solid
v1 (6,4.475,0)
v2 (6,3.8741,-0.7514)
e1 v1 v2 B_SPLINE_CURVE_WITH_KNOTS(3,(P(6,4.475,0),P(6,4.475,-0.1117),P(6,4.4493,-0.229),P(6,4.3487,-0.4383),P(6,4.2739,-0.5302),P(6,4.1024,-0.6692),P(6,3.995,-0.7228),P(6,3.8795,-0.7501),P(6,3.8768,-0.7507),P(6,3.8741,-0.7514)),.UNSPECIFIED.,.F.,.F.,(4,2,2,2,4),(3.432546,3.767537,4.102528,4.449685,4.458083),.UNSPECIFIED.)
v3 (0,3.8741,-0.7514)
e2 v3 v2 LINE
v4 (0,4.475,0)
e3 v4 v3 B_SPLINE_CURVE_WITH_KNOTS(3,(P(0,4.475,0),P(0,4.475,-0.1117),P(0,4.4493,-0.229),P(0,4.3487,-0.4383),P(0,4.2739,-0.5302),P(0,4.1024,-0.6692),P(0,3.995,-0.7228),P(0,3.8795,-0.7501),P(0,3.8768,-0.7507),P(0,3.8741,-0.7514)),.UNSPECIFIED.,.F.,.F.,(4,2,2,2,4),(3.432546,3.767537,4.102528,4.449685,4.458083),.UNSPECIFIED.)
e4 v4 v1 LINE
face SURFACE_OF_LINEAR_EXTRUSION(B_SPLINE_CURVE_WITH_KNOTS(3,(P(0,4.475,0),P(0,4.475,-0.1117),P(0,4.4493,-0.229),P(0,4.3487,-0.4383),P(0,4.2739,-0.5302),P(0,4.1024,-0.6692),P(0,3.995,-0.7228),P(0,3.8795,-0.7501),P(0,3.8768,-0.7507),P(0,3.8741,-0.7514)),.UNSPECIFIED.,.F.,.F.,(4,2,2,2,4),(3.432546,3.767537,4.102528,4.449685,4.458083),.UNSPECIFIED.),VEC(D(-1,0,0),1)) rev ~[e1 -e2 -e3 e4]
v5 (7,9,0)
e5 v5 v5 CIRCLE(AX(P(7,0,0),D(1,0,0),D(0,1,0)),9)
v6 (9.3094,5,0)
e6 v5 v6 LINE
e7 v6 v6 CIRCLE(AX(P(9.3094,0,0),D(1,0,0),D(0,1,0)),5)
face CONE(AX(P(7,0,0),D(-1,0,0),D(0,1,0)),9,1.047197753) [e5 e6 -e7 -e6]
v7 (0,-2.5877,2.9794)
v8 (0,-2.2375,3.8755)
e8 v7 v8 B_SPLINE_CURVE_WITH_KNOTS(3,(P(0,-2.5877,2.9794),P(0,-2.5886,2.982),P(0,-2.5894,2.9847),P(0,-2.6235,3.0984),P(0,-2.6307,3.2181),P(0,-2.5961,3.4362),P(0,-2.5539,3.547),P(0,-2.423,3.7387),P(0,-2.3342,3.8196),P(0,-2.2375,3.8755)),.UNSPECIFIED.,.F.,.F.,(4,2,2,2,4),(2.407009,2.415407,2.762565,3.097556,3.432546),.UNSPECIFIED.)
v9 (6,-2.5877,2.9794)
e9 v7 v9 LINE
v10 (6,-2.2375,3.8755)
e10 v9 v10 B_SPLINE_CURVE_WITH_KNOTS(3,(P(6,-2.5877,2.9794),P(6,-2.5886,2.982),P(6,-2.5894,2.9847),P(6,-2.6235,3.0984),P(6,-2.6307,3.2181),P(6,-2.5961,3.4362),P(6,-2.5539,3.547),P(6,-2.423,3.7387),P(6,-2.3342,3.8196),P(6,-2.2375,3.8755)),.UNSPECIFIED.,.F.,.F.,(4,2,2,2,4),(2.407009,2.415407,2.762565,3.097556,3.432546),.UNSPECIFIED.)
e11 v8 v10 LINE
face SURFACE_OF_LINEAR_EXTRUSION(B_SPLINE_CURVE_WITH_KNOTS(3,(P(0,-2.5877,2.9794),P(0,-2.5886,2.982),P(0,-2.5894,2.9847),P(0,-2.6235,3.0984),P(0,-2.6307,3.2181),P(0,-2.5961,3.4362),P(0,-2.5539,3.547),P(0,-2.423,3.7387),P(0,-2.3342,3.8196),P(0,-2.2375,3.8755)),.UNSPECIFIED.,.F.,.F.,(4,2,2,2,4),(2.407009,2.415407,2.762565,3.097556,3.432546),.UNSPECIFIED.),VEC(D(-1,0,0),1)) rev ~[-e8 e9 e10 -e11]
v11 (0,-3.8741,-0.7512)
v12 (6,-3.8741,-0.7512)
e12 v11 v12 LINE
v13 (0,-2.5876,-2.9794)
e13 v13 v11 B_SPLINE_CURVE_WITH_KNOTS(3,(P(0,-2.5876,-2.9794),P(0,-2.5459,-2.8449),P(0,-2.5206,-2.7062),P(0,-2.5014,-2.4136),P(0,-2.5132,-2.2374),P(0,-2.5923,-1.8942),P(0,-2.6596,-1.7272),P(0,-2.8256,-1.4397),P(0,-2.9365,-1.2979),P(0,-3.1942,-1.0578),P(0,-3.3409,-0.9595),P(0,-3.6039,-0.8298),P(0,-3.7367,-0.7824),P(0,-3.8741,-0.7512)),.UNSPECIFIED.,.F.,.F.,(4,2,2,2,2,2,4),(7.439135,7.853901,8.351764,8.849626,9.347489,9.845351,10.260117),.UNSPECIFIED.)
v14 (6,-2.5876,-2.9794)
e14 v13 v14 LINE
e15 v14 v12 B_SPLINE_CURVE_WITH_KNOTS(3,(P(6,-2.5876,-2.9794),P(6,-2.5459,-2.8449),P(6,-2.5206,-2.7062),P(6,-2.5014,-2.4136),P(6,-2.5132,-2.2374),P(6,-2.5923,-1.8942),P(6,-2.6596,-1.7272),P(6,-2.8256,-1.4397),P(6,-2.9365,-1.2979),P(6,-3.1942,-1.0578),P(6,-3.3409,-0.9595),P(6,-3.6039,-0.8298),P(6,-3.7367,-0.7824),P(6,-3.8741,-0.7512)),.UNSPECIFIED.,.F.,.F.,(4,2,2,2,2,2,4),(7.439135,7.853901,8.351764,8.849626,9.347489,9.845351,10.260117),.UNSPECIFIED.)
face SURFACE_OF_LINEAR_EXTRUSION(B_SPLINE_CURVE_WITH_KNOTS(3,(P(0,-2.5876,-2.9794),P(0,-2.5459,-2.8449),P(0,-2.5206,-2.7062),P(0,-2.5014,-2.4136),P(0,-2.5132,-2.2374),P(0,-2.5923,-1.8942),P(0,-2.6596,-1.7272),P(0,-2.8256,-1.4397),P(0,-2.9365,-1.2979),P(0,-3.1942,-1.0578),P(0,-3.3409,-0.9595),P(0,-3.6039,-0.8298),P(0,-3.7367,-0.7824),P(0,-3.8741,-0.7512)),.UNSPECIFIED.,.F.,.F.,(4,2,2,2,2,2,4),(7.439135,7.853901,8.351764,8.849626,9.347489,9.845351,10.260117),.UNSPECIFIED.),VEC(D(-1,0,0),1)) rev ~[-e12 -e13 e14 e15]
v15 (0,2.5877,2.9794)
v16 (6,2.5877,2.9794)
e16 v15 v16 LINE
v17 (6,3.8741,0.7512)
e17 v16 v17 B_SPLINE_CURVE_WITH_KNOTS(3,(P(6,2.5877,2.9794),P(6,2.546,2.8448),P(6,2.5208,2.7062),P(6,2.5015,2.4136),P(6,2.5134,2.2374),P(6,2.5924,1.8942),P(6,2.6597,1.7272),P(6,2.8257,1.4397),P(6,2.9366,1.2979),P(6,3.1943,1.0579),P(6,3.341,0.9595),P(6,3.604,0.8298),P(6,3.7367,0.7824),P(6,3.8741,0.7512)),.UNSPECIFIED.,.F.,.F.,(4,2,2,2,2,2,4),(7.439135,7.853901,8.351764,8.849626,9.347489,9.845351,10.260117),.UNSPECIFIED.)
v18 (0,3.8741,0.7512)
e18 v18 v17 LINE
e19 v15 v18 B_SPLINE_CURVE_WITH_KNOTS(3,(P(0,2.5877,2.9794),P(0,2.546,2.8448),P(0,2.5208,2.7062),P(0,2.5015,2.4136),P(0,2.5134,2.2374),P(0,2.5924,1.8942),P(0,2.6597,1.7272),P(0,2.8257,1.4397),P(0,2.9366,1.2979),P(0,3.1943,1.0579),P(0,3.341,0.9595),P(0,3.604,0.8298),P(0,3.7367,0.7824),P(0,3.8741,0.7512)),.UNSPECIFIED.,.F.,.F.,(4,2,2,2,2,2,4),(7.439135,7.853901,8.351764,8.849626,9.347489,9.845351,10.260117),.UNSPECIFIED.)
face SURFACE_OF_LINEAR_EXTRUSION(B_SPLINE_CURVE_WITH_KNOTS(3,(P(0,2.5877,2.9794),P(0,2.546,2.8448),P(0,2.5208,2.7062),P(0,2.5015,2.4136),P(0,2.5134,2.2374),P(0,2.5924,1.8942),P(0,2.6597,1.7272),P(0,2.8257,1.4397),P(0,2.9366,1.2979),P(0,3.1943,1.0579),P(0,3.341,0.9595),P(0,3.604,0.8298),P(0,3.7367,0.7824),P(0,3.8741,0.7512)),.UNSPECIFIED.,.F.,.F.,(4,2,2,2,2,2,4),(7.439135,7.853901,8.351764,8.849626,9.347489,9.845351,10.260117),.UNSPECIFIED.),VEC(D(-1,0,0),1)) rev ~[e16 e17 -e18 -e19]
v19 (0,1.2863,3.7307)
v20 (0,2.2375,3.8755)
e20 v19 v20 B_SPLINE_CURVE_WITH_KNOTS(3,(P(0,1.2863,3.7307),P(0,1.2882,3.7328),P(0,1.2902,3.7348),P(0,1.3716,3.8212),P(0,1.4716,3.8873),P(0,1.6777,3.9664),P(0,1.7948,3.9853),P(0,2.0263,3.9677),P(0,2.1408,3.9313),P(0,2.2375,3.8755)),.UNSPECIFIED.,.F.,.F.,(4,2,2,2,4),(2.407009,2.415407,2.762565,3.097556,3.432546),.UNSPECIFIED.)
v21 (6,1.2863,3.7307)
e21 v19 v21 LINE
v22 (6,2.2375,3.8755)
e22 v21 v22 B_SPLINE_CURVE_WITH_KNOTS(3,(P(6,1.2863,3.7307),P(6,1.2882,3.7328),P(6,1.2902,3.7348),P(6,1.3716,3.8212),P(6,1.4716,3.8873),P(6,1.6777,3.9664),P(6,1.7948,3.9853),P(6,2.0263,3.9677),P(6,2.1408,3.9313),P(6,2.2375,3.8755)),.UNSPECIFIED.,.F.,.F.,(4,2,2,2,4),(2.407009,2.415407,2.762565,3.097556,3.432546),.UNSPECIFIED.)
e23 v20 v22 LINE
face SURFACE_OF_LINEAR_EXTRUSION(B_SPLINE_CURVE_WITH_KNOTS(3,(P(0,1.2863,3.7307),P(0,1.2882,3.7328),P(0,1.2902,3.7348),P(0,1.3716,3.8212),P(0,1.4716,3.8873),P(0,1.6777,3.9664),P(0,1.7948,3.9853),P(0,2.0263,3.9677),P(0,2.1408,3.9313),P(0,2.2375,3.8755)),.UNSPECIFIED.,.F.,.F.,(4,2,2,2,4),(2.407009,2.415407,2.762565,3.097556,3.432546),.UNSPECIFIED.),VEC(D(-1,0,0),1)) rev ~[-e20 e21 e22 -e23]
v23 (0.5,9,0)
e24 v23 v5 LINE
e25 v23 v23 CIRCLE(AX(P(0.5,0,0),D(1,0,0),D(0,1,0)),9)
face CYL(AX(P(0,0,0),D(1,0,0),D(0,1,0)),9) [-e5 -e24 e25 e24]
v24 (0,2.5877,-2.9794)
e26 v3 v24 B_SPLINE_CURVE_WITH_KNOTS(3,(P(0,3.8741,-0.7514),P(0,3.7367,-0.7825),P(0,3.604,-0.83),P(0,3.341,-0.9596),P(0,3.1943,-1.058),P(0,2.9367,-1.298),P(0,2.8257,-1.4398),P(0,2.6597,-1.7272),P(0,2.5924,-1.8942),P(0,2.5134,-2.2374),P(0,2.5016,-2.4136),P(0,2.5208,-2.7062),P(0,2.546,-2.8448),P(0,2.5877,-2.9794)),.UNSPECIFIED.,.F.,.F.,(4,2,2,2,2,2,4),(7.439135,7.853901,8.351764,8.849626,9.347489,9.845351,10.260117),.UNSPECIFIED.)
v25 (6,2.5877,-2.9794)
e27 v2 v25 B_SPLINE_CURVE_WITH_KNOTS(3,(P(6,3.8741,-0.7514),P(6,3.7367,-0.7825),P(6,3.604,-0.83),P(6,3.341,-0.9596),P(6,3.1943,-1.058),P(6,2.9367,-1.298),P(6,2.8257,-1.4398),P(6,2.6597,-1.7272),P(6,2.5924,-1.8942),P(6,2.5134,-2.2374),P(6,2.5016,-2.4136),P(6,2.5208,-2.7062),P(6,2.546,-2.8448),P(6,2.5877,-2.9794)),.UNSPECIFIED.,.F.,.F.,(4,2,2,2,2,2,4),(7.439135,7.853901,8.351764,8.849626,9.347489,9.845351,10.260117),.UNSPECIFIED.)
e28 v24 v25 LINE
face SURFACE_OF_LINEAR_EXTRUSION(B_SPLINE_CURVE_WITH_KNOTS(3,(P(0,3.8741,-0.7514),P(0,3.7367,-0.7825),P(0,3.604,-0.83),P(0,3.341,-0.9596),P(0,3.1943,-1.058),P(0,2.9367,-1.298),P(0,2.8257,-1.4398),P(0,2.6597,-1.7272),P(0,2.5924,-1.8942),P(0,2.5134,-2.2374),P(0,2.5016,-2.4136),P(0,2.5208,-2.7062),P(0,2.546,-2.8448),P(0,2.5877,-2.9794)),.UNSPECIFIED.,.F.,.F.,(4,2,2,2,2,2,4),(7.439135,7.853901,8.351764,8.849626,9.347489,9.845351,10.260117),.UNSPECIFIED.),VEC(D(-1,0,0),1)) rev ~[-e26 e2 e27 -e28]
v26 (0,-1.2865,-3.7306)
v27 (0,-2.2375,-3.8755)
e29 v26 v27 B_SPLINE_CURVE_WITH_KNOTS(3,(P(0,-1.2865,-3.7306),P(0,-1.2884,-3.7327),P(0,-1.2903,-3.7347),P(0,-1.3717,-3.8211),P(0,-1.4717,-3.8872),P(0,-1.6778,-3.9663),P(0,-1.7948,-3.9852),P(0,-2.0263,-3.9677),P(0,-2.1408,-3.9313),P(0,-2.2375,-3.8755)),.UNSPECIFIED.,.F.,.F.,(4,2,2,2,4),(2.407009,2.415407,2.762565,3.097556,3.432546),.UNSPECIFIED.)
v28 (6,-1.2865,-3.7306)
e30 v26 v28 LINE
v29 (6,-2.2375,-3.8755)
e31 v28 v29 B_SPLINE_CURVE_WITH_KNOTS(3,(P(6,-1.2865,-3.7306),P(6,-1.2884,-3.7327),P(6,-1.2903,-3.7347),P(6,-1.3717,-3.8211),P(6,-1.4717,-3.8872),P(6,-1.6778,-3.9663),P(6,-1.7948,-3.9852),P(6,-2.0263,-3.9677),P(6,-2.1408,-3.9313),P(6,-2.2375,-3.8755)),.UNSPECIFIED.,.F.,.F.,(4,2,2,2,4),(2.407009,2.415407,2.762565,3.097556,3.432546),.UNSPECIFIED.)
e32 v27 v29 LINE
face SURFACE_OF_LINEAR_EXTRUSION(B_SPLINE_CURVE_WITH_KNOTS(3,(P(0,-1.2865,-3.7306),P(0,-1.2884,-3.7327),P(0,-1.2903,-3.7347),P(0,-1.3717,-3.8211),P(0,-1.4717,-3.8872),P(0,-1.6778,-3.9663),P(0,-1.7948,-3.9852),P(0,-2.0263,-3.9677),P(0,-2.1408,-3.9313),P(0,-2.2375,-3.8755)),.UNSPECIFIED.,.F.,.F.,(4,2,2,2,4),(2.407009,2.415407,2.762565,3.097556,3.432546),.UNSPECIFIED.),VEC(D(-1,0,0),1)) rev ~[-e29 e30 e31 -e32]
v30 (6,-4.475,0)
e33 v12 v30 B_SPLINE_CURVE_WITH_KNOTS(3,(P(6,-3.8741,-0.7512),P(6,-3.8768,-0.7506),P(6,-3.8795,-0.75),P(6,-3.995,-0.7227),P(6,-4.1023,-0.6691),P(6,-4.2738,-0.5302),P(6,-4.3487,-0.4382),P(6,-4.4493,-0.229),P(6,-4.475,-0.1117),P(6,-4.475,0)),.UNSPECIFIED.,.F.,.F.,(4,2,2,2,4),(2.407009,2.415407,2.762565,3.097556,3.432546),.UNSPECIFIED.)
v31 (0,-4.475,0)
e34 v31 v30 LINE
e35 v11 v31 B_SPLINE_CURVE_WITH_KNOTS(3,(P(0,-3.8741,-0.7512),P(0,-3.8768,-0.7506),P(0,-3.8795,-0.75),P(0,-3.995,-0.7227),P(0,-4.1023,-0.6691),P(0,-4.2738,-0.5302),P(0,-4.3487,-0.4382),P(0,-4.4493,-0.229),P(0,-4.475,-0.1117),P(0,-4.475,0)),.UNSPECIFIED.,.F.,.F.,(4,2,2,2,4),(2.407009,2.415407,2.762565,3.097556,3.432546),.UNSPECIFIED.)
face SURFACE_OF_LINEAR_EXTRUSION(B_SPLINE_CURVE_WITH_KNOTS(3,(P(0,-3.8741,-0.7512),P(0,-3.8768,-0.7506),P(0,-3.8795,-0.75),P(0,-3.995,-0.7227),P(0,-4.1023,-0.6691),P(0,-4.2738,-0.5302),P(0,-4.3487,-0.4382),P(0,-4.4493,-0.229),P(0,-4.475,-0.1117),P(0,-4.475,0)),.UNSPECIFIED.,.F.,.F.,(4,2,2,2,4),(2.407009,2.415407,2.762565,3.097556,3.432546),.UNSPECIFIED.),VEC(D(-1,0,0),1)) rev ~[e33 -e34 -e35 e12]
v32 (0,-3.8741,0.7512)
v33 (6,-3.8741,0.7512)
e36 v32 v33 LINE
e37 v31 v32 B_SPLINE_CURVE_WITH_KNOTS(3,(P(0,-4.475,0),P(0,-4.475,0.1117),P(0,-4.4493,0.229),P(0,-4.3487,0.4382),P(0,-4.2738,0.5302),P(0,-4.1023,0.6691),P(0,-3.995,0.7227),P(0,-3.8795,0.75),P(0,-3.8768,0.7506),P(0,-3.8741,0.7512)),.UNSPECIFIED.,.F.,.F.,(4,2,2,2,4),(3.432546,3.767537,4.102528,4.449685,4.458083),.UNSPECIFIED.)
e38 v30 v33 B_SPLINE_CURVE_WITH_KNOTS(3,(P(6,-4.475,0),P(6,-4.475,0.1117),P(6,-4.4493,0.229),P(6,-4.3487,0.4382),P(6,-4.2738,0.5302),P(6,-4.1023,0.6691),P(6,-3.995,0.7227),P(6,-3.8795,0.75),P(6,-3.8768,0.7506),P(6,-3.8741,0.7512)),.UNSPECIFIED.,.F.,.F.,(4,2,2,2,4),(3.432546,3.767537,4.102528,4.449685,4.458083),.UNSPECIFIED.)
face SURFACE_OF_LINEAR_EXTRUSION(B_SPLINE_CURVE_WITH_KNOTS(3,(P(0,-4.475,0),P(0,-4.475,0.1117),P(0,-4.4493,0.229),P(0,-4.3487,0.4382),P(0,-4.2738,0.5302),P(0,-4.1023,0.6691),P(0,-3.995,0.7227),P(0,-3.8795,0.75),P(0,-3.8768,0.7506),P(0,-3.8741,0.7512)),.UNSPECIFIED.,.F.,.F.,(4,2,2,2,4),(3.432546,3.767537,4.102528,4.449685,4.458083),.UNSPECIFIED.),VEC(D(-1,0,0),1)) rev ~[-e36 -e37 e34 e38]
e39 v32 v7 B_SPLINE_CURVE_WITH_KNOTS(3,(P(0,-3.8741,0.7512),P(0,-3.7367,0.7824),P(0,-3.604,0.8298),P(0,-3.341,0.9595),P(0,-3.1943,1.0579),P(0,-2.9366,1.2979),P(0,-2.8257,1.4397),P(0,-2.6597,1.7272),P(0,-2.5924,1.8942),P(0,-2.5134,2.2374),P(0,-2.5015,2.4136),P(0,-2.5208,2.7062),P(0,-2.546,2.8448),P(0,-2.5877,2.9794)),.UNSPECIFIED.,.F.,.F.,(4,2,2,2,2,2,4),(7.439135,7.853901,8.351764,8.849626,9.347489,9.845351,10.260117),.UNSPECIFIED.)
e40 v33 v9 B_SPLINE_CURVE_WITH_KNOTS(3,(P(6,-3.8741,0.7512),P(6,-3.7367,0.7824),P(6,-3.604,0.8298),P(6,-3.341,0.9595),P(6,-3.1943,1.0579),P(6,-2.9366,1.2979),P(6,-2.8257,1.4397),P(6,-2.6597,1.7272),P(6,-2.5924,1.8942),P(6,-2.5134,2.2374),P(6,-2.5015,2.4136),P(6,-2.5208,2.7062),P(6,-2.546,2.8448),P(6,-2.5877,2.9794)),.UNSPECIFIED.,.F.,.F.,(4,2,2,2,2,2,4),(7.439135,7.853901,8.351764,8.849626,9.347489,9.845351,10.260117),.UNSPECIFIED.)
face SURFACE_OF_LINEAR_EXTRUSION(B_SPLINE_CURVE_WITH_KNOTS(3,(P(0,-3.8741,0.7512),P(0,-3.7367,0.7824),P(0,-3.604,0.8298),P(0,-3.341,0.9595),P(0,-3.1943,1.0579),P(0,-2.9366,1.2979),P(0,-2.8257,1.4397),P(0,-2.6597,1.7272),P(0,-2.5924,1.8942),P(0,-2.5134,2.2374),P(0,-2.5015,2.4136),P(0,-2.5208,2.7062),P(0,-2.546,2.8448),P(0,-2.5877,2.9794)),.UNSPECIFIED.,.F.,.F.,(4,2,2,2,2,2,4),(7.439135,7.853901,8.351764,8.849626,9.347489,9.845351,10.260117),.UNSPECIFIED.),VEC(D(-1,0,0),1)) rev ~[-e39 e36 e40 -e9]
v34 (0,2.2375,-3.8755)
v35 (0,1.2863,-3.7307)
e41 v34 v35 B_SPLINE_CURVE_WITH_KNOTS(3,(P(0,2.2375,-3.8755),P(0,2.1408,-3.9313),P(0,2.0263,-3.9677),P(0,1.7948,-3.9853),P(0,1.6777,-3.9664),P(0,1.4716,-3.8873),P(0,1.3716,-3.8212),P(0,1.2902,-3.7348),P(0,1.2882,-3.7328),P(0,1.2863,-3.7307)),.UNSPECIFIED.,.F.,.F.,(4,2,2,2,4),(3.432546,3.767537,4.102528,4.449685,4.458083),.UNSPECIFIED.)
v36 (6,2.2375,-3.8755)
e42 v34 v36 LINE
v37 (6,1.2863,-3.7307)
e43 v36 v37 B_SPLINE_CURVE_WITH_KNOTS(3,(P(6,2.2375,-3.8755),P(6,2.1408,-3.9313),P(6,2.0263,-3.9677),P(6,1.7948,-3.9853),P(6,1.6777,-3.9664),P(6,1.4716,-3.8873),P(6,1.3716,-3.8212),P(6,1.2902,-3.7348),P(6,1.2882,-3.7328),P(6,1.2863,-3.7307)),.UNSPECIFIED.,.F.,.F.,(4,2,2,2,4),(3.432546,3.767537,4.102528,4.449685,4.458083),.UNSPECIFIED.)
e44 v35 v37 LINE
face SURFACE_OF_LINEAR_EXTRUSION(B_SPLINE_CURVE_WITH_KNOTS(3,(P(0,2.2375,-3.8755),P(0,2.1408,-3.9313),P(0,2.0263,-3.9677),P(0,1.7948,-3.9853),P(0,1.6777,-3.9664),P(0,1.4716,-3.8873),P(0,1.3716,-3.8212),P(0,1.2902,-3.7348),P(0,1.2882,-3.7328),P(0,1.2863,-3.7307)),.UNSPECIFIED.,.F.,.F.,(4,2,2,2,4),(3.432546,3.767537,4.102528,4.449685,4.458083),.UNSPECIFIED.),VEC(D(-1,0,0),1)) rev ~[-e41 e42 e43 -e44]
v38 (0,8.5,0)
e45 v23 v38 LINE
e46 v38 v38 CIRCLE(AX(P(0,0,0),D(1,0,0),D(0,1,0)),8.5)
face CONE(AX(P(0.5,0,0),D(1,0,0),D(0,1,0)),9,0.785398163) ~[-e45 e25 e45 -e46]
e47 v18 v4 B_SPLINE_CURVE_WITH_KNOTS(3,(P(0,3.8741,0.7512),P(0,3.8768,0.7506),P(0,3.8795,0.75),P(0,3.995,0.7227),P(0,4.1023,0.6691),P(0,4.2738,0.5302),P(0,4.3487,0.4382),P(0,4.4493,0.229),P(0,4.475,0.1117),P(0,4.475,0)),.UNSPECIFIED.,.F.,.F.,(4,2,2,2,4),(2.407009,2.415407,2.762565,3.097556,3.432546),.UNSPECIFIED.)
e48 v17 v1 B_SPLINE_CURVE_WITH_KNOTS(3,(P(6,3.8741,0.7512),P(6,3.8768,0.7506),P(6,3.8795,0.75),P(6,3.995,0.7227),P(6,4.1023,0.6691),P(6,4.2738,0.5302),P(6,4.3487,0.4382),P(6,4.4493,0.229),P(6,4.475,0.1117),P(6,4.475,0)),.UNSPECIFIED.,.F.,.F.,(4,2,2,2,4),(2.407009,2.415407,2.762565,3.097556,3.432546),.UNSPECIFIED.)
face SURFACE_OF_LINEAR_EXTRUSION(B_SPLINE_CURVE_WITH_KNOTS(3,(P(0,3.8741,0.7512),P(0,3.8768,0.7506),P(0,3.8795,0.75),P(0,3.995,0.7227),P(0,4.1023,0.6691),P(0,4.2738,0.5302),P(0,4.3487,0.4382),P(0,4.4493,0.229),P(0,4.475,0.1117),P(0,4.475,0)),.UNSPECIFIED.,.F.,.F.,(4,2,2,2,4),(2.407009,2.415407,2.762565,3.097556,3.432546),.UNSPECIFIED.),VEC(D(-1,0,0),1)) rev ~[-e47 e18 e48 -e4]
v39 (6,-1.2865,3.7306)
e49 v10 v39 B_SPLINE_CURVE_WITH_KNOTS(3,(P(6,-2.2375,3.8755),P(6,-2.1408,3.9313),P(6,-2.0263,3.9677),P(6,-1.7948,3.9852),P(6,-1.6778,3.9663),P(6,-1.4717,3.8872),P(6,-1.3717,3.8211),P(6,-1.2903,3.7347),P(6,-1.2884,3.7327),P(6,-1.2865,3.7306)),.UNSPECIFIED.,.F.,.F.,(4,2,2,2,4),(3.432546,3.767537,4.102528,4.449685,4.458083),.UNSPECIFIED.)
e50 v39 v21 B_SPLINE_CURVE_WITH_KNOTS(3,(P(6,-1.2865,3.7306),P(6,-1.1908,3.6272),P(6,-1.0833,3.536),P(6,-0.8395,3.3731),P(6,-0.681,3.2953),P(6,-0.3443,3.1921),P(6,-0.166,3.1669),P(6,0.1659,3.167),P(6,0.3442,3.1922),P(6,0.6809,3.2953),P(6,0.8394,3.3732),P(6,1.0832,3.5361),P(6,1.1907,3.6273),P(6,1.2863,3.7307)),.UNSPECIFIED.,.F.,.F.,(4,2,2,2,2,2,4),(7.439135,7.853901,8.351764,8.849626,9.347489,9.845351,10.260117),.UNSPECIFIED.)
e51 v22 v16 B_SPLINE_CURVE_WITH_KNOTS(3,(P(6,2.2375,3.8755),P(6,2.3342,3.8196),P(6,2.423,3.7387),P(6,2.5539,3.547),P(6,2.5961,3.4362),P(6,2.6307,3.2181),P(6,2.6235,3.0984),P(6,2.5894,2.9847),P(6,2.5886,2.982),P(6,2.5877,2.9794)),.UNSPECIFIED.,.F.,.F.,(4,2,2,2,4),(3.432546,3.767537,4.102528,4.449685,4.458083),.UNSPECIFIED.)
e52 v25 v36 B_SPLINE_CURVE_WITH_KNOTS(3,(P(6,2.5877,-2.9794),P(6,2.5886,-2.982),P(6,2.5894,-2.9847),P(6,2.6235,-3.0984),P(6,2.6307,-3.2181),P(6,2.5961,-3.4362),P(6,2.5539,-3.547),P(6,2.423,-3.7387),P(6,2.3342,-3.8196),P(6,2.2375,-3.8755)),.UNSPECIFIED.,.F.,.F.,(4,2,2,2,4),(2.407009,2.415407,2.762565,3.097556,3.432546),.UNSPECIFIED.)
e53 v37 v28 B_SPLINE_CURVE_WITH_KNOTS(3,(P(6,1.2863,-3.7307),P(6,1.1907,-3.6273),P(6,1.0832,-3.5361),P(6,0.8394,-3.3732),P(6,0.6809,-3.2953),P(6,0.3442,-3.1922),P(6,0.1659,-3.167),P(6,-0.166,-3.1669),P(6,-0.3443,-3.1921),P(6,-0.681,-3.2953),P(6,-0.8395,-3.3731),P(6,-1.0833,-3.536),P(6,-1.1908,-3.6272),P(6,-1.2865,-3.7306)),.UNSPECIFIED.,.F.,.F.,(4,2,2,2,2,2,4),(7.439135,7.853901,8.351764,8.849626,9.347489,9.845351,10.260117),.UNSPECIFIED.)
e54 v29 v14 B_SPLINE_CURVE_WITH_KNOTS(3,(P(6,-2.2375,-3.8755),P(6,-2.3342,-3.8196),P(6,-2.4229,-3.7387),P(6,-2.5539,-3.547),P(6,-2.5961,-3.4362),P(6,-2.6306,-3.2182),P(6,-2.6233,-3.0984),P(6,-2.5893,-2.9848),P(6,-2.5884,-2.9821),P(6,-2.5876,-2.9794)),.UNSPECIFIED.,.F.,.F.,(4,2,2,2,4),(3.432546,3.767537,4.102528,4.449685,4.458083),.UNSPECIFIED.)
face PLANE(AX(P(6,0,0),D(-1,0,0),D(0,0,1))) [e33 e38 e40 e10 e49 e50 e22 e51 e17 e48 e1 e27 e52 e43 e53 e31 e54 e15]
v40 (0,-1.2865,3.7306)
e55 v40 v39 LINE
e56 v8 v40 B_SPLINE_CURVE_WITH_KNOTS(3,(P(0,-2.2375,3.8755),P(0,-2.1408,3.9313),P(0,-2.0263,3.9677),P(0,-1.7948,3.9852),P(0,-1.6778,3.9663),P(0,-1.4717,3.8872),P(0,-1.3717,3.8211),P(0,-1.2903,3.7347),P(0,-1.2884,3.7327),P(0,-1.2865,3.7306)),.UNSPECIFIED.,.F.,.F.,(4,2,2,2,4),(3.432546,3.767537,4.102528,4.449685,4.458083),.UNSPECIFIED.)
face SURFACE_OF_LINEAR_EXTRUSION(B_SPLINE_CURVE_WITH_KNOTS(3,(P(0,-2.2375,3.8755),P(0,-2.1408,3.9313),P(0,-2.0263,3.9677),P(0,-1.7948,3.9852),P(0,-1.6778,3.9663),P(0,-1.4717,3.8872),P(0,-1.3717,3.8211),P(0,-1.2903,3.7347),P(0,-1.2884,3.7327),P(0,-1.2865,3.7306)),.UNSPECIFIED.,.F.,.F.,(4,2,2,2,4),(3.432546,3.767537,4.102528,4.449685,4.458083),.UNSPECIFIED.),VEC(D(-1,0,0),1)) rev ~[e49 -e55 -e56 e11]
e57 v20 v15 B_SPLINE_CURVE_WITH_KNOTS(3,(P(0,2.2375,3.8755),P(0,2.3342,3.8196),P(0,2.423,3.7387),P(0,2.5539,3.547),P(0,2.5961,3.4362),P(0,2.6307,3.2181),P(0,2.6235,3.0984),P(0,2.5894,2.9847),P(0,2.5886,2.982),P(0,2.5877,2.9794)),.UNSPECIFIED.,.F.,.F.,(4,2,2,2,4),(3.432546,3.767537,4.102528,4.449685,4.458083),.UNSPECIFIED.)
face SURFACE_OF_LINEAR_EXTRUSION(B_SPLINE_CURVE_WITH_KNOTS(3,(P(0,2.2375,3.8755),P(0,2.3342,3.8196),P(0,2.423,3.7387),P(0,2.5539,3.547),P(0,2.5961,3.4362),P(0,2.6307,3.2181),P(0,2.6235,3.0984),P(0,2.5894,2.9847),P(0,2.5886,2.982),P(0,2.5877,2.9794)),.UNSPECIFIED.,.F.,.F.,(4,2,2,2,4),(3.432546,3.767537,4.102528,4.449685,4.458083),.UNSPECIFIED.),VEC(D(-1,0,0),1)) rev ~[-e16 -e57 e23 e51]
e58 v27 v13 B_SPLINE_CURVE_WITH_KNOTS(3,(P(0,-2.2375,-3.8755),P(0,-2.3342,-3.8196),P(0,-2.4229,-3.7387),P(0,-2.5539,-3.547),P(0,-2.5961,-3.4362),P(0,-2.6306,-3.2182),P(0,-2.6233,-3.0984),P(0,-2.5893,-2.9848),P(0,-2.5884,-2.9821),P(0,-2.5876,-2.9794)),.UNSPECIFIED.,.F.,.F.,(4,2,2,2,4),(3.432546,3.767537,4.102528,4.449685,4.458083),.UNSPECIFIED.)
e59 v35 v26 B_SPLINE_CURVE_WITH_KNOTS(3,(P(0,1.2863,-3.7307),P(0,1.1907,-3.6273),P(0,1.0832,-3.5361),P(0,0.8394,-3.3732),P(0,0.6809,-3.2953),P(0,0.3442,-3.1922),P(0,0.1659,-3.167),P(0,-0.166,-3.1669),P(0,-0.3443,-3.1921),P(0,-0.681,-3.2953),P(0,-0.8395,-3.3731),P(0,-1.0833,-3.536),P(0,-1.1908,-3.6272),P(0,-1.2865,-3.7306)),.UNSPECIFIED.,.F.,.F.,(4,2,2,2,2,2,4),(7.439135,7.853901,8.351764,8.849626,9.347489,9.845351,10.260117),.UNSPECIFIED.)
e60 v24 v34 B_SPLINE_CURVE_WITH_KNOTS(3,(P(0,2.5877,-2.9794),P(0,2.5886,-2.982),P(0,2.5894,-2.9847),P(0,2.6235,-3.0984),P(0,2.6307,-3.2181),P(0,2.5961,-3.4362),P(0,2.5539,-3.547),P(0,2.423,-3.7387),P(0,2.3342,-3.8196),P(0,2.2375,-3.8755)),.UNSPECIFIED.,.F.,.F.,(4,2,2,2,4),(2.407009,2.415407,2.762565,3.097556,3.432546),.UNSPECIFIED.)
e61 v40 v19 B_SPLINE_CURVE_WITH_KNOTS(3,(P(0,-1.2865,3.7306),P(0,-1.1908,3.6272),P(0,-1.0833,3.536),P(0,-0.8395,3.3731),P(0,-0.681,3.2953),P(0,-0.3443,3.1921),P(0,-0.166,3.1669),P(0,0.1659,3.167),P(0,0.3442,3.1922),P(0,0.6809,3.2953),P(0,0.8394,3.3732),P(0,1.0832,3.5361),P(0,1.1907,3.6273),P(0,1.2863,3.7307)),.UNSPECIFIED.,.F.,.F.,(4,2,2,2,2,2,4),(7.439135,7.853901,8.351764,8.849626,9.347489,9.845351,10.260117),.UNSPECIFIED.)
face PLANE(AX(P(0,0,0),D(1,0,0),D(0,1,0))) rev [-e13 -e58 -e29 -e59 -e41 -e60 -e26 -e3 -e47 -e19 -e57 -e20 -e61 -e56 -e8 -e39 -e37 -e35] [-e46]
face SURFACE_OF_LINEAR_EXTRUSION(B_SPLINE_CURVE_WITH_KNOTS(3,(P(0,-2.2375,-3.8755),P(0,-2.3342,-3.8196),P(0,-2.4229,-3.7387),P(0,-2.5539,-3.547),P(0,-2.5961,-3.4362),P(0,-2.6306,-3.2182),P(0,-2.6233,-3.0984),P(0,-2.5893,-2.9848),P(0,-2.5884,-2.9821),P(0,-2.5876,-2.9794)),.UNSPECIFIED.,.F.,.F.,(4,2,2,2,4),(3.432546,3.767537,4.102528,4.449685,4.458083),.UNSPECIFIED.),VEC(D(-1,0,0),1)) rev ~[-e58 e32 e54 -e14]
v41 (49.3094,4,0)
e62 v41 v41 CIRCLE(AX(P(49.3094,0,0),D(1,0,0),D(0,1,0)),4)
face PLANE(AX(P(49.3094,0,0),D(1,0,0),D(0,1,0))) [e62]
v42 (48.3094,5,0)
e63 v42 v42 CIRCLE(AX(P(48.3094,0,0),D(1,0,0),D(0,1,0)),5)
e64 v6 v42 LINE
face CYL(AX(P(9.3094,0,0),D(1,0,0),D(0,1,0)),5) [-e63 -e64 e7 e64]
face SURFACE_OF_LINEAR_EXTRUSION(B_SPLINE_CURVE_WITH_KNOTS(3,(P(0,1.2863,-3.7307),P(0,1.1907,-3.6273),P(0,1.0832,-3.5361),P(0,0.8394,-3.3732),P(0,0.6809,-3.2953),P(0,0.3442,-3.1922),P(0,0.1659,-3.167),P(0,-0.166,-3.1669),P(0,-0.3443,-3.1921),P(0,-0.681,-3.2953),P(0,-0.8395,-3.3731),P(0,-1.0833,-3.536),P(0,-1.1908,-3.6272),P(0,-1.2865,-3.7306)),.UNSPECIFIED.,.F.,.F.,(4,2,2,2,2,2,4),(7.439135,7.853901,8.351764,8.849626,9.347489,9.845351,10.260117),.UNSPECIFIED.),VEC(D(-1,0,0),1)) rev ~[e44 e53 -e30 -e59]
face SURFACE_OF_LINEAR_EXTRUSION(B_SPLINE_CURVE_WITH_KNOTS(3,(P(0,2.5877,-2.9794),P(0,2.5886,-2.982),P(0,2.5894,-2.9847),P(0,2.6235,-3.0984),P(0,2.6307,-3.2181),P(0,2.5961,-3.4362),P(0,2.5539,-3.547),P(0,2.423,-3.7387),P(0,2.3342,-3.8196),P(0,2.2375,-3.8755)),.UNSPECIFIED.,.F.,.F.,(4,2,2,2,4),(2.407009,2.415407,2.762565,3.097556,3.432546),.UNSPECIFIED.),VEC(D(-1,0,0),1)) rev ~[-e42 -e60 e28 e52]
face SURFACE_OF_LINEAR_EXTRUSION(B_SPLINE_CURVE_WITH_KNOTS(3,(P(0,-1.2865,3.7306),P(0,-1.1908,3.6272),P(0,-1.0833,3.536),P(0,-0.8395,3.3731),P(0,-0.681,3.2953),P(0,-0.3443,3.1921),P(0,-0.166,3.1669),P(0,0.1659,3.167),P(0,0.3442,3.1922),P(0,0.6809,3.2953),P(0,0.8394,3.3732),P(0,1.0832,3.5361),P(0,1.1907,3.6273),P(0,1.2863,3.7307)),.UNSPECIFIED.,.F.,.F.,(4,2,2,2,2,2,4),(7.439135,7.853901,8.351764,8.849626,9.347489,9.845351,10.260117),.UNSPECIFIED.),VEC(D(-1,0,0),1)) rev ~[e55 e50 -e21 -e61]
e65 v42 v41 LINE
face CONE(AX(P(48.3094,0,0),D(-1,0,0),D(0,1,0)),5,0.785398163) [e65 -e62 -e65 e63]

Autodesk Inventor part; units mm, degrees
ref_plane "YZ Plane" through (0, 0, 0) normal (1, 0, 0) x (0, 1, 0)
ref_plane "XZ Plane" through (0, 0, 0) normal (0, 1, 0) x (-1, 0, 0)
ref_plane "XY Plane" through (0, 0, 0) normal (0, 0, 1) x (1, 0, 0)
sketch "Skizze1" plane through (0, 0, 0) normal (0, 0, 1) x (1, 0, 0)
  line L0 (-9.8619, 0) -> (59.1713, 0) projected
  line L1 (0, -1.8) -> (0, 10.8) projected
  line L2 (0, 0) -> (0, 9)
  line L3 (0, 9) -> (7, 9)
  line L4 (7, 9) -> (9.3094, 5)
  line L5 (9.3094, 5) -> (49.3094, 5)
  line L6 (49.3094, 5) -> (49.3094, 0)
  line L7 (49.3094, 0) -> (0, 0)
  dimension "d0" = 18
  dimension "d1" = 7
  dimension "d3" = 10
  dimension "d4" = 40
  dimension "d16" = 60
revolve "Umdrehung1" add sketch "Skizze1" angle 360 about axis through (-10, 0, 0) along (1, 0, 0)
chamfer "Fase1" distance 1 angle 45 1 edges at (49.3094, -5, 0)
chamfer "Fase2" distance 0.5 angle 45 1 edges at (0, -9, 0)
thread "Gewinde1" size "M10x1.5" class "6g" standard "ANSI Metric M Profile" full length
sketch "Skizze2" plane through (0, 0, 0) normal (-1, 0, 0) x (0, 0, 1)
  spline S0 degree 3 poles (0.7512, 3.8741) (0.7506, 3.8768) (0.75, 3.8795) (0.7227, 3.995) (0.6691, 4.1023) (0.5302, 4.2738) (0.4382, 4.3487) (0.229, 4.4493) (0.1117, 4.475) (0, 4.475) knots 2.407009 2.407009 2.407009 2.407009 2.415407 2.415407 2.762565 2.762565 3.097556 3.097556 3.432546 3.432546 3.432546 3.432546
  spline S1 degree 3 poles (0, 4.475) (-0.1117, 4.475) (-0.229, 4.4493) (-0.4383, 4.3487) (-0.5302, 4.2739) (-0.6692, 4.1024) (-0.7228, 3.995) (-0.7501, 3.8795) (-0.7507, 3.8768) (-0.7514, 3.8741) knots 3.432546 3.432546 3.432546 3.432546 3.767537 3.767537 4.102528 4.102528 4.449685 4.449685 4.458083 4.458083 4.458083 4.458083
  spline S2 degree 3 poles (-0.7514, 3.8741) (-0.7825, 3.7367) (-0.83, 3.604) (-0.9596, 3.341) (-1.058, 3.1943) (-1.298, 2.9367) (-1.4398, 2.8257) (-1.7272, 2.6597) (-1.8942, 2.5924) (-2.2374, 2.5134) (-2.4136, 2.5016) (-2.7062, 2.5208) (-2.8448, 2.546) (-2.9794, 2.5877) knots 7.439135 7.439135 7.439135 7.439135 7.853901 7.853901 8.351764 8.351764 8.849626 8.849626 9.347489 9.347489 9.845351 9.845351 10.260117 10.260117 10.260117 10.260117
  spline S3 degree 3 poles (-2.9794, 2.5877) (-2.982, 2.5886) (-2.9847, 2.5894) (-3.0984, 2.6235) (-3.2181, 2.6307) (-3.4362, 2.5961) (-3.547, 2.5539) (-3.7387, 2.423) (-3.8196, 2.3342) (-3.8755, 2.2375) knots 2.407009 2.407009 2.407009 2.407009 2.415407 2.415407 2.762565 2.762565 3.097556 3.097556 3.432546 3.432546 3.432546 3.432546
  spline S4 degree 3 poles (-3.8755, 2.2375) (-3.9313, 2.1408) (-3.9677, 2.0263) (-3.9853, 1.7948) (-3.9664, 1.6777) (-3.8873, 1.4716) (-3.8212, 1.3716) (-3.7348, 1.2902) (-3.7328, 1.2882) (-3.7307, 1.2863) knots 3.432546 3.432546 3.432546 3.432546 3.767537 3.767537 4.102528 4.102528 4.449685 4.449685 4.458083 4.458083 4.458083 4.458083
  spline S5 degree 3 poles (-3.7307, 1.2863) (-3.6273, 1.1907) (-3.5361, 1.0832) (-3.3732, 0.8394) (-3.2953, 0.6809) (-3.1922, 0.3442) (-3.167, 0.1659) (-3.1669, -0.166) (-3.1921, -0.3443) (-3.2953, -0.681) (-3.3731, -0.8395) (-3.536, -1.0833) (-3.6272, -1.1908) (-3.7306, -1.2865) knots 7.439135 7.439135 7.439135 7.439135 7.853901 7.853901 8.351764 8.351764 8.849626 8.849626 9.347489 9.347489 9.845351 9.845351 10.260117 10.260117 10.260117 10.260117
  spline S6 degree 3 poles (-3.7306, -1.2865) (-3.7327, -1.2884) (-3.7347, -1.2903) (-3.8211, -1.3717) (-3.8872, -1.4717) (-3.9663, -1.6778) (-3.9852, -1.7948) (-3.9677, -2.0263) (-3.9313, -2.1408) (-3.8755, -2.2375) knots 2.407009 2.407009 2.407009 2.407009 2.415407 2.415407 2.762565 2.762565 3.097556 3.097556 3.432546 3.432546 3.432546 3.432546
  spline S7 degree 3 poles (-3.8755, -2.2375) (-3.8196, -2.3342) (-3.7387, -2.4229) (-3.547, -2.5539) (-3.4362, -2.5961) (-3.2182, -2.6306) (-3.0984, -2.6233) (-2.9848, -2.5893) (-2.9821, -2.5884) (-2.9794, -2.5876) knots 3.432546 3.432546 3.432546 3.432546 3.767537 3.767537 4.102528 4.102528 4.449685 4.449685 4.458083 4.458083 4.458083 4.458083
  spline S8 degree 3 poles (-2.9794, -2.5876) (-2.8449, -2.5459) (-2.7062, -2.5206) (-2.4136, -2.5014) (-2.2374, -2.5132) (-1.8942, -2.5923) (-1.7272, -2.6596) (-1.4397, -2.8256) (-1.2979, -2.9365) (-1.0578, -3.1942) (-0.9595, -3.3409) (-0.8298, -3.6039) (-0.7824, -3.7367) (-0.7512, -3.8741) knots 7.439135 7.439135 7.439135 7.439135 7.853901 7.853901 8.351764 8.351764 8.849626 8.849626 9.347489 9.347489 9.845351 9.845351 10.260117 10.260117 10.260117 10.260117
  spline S9 degree 3 poles (-0.7512, -3.8741) (-0.7506, -3.8768) (-0.75, -3.8795) (-0.7227, -3.995) (-0.6691, -4.1023) (-0.5302, -4.2738) (-0.4382, -4.3487) (-0.229, -4.4493) (-0.1117, -4.475) (0, -4.475) knots 2.407009 2.407009 2.407009 2.407009 2.415407 2.415407 2.762565 2.762565 3.097556 3.097556 3.432546 3.432546 3.432546 3.432546
  spline S10 degree 3 poles (0, -4.475) (0.1117, -4.475) (0.229, -4.4493) (0.4382, -4.3487) (0.5302, -4.2738) (0.6691, -4.1023) (0.7227, -3.995) (0.75, -3.8795) (0.7506, -3.8768) (0.7512, -3.8741) knots 3.432546 3.432546 3.432546 3.432546 3.767537 3.767537 4.102528 4.102528 4.449685 4.449685 4.458083 4.458083 4.458083 4.458083
  spline S11 degree 3 poles (0.7512, -3.8741) (0.7824, -3.7367) (0.8298, -3.604) (0.9595, -3.341) (1.0579, -3.1943) (1.2979, -2.9366) (1.4397, -2.8257) (1.7272, -2.6597) (1.8942, -2.5924) (2.2374, -2.5134) (2.4136, -2.5015) (2.7062, -2.5208) (2.8448, -2.546) (2.9794, -2.5877) knots 7.439135 7.439135 7.439135 7.439135 7.853901 7.853901 8.351764 8.351764 8.849626 8.849626 9.347489 9.347489 9.845351 9.845351 10.260117 10.260117 10.260117 10.260117
  spline S12 degree 3 poles (2.9794, -2.5877) (2.982, -2.5886) (2.9847, -2.5894) (3.0984, -2.6235) (3.2181, -2.6307) (3.4362, -2.5961) (3.547, -2.5539) (3.7387, -2.423) (3.8196, -2.3342) (3.8755, -2.2375) knots 2.407009 2.407009 2.407009 2.407009 2.415407 2.415407 2.762565 2.762565 3.097556 3.097556 3.432546 3.432546 3.432546 3.432546
  spline S13 degree 3 poles (3.8755, -2.2375) (3.9313, -2.1408) (3.9677, -2.0263) (3.9852, -1.7948) (3.9663, -1.6778) (3.8872, -1.4717) (3.8211, -1.3717) (3.7347, -1.2903) (3.7327, -1.2884) (3.7306, -1.2865) knots 3.432546 3.432546 3.432546 3.432546 3.767537 3.767537 4.102528 4.102528 4.449685 4.449685 4.458083 4.458083 4.458083 4.458083
  spline S14 degree 3 poles (3.7306, -1.2865) (3.6272, -1.1908) (3.536, -1.0833) (3.3731, -0.8395) (3.2953, -0.681) (3.1921, -0.3443) (3.1669, -0.166) (3.167, 0.1659) (3.1922, 0.3442) (3.2953, 0.6809) (3.3732, 0.8394) (3.5361, 1.0832) (3.6273, 1.1907) (3.7307, 1.2863) knots 7.439135 7.439135 7.439135 7.439135 7.853901 7.853901 8.351764 8.351764 8.849626 8.849626 9.347489 9.347489 9.845351 9.845351 10.260117 10.260117 10.260117 10.260117
  spline S15 degree 3 poles (3.7307, 1.2863) (3.7328, 1.2882) (3.7348, 1.2902) (3.8212, 1.3716) (3.8873, 1.4716) (3.9664, 1.6777) (3.9853, 1.7948) (3.9677, 2.0263) (3.9313, 2.1408) (3.8755, 2.2375) knots 2.407009 2.407009 2.407009 2.407009 2.415407 2.415407 2.762565 2.762565 3.097556 3.097556 3.432546 3.432546 3.432546 3.432546
  spline S16 degree 3 poles (3.8755, 2.2375) (3.8196, 2.3342) (3.7387, 2.423) (3.547, 2.5539) (3.4362, 2.5961) (3.2181, 2.6307) (3.0984, 2.6235) (2.9847, 2.5894) (2.982, 2.5886) (2.9794, 2.5877) knots 3.432546 3.432546 3.432546 3.432546 3.767537 3.767537 4.102528 4.102528 4.449685 4.449685 4.458083 4.458083 4.458083 4.458083
  spline S17 degree 3 poles (2.9794, 2.5877) (2.8448, 2.546) (2.7062, 2.5208) (2.4136, 2.5015) (2.2374, 2.5134) (1.8942, 2.5924) (1.7272, 2.6597) (1.4397, 2.8257) (1.2979, 2.9366) (1.0579, 3.1943) (0.9595, 3.341) (0.8298, 3.604) (0.7824, 3.7367) (0.7512, 3.8741) knots 7.439135 7.439135 7.439135 7.439135 7.853901 7.853901 8.351764 8.351764 8.849626 8.849626 9.347489 9.347489 9.845351 9.845351 10.260117 10.260117 10.260117 10.260117
  point P0 (0, 0)
  point P1 (0, 0)
  point P2 (0, 0)
extrude "Extrusion1" cut sketch "Skizze2" against normal blind 6
properties part number "Torx T50 M10 x 1,25" material "钢，高强度，低合金"
